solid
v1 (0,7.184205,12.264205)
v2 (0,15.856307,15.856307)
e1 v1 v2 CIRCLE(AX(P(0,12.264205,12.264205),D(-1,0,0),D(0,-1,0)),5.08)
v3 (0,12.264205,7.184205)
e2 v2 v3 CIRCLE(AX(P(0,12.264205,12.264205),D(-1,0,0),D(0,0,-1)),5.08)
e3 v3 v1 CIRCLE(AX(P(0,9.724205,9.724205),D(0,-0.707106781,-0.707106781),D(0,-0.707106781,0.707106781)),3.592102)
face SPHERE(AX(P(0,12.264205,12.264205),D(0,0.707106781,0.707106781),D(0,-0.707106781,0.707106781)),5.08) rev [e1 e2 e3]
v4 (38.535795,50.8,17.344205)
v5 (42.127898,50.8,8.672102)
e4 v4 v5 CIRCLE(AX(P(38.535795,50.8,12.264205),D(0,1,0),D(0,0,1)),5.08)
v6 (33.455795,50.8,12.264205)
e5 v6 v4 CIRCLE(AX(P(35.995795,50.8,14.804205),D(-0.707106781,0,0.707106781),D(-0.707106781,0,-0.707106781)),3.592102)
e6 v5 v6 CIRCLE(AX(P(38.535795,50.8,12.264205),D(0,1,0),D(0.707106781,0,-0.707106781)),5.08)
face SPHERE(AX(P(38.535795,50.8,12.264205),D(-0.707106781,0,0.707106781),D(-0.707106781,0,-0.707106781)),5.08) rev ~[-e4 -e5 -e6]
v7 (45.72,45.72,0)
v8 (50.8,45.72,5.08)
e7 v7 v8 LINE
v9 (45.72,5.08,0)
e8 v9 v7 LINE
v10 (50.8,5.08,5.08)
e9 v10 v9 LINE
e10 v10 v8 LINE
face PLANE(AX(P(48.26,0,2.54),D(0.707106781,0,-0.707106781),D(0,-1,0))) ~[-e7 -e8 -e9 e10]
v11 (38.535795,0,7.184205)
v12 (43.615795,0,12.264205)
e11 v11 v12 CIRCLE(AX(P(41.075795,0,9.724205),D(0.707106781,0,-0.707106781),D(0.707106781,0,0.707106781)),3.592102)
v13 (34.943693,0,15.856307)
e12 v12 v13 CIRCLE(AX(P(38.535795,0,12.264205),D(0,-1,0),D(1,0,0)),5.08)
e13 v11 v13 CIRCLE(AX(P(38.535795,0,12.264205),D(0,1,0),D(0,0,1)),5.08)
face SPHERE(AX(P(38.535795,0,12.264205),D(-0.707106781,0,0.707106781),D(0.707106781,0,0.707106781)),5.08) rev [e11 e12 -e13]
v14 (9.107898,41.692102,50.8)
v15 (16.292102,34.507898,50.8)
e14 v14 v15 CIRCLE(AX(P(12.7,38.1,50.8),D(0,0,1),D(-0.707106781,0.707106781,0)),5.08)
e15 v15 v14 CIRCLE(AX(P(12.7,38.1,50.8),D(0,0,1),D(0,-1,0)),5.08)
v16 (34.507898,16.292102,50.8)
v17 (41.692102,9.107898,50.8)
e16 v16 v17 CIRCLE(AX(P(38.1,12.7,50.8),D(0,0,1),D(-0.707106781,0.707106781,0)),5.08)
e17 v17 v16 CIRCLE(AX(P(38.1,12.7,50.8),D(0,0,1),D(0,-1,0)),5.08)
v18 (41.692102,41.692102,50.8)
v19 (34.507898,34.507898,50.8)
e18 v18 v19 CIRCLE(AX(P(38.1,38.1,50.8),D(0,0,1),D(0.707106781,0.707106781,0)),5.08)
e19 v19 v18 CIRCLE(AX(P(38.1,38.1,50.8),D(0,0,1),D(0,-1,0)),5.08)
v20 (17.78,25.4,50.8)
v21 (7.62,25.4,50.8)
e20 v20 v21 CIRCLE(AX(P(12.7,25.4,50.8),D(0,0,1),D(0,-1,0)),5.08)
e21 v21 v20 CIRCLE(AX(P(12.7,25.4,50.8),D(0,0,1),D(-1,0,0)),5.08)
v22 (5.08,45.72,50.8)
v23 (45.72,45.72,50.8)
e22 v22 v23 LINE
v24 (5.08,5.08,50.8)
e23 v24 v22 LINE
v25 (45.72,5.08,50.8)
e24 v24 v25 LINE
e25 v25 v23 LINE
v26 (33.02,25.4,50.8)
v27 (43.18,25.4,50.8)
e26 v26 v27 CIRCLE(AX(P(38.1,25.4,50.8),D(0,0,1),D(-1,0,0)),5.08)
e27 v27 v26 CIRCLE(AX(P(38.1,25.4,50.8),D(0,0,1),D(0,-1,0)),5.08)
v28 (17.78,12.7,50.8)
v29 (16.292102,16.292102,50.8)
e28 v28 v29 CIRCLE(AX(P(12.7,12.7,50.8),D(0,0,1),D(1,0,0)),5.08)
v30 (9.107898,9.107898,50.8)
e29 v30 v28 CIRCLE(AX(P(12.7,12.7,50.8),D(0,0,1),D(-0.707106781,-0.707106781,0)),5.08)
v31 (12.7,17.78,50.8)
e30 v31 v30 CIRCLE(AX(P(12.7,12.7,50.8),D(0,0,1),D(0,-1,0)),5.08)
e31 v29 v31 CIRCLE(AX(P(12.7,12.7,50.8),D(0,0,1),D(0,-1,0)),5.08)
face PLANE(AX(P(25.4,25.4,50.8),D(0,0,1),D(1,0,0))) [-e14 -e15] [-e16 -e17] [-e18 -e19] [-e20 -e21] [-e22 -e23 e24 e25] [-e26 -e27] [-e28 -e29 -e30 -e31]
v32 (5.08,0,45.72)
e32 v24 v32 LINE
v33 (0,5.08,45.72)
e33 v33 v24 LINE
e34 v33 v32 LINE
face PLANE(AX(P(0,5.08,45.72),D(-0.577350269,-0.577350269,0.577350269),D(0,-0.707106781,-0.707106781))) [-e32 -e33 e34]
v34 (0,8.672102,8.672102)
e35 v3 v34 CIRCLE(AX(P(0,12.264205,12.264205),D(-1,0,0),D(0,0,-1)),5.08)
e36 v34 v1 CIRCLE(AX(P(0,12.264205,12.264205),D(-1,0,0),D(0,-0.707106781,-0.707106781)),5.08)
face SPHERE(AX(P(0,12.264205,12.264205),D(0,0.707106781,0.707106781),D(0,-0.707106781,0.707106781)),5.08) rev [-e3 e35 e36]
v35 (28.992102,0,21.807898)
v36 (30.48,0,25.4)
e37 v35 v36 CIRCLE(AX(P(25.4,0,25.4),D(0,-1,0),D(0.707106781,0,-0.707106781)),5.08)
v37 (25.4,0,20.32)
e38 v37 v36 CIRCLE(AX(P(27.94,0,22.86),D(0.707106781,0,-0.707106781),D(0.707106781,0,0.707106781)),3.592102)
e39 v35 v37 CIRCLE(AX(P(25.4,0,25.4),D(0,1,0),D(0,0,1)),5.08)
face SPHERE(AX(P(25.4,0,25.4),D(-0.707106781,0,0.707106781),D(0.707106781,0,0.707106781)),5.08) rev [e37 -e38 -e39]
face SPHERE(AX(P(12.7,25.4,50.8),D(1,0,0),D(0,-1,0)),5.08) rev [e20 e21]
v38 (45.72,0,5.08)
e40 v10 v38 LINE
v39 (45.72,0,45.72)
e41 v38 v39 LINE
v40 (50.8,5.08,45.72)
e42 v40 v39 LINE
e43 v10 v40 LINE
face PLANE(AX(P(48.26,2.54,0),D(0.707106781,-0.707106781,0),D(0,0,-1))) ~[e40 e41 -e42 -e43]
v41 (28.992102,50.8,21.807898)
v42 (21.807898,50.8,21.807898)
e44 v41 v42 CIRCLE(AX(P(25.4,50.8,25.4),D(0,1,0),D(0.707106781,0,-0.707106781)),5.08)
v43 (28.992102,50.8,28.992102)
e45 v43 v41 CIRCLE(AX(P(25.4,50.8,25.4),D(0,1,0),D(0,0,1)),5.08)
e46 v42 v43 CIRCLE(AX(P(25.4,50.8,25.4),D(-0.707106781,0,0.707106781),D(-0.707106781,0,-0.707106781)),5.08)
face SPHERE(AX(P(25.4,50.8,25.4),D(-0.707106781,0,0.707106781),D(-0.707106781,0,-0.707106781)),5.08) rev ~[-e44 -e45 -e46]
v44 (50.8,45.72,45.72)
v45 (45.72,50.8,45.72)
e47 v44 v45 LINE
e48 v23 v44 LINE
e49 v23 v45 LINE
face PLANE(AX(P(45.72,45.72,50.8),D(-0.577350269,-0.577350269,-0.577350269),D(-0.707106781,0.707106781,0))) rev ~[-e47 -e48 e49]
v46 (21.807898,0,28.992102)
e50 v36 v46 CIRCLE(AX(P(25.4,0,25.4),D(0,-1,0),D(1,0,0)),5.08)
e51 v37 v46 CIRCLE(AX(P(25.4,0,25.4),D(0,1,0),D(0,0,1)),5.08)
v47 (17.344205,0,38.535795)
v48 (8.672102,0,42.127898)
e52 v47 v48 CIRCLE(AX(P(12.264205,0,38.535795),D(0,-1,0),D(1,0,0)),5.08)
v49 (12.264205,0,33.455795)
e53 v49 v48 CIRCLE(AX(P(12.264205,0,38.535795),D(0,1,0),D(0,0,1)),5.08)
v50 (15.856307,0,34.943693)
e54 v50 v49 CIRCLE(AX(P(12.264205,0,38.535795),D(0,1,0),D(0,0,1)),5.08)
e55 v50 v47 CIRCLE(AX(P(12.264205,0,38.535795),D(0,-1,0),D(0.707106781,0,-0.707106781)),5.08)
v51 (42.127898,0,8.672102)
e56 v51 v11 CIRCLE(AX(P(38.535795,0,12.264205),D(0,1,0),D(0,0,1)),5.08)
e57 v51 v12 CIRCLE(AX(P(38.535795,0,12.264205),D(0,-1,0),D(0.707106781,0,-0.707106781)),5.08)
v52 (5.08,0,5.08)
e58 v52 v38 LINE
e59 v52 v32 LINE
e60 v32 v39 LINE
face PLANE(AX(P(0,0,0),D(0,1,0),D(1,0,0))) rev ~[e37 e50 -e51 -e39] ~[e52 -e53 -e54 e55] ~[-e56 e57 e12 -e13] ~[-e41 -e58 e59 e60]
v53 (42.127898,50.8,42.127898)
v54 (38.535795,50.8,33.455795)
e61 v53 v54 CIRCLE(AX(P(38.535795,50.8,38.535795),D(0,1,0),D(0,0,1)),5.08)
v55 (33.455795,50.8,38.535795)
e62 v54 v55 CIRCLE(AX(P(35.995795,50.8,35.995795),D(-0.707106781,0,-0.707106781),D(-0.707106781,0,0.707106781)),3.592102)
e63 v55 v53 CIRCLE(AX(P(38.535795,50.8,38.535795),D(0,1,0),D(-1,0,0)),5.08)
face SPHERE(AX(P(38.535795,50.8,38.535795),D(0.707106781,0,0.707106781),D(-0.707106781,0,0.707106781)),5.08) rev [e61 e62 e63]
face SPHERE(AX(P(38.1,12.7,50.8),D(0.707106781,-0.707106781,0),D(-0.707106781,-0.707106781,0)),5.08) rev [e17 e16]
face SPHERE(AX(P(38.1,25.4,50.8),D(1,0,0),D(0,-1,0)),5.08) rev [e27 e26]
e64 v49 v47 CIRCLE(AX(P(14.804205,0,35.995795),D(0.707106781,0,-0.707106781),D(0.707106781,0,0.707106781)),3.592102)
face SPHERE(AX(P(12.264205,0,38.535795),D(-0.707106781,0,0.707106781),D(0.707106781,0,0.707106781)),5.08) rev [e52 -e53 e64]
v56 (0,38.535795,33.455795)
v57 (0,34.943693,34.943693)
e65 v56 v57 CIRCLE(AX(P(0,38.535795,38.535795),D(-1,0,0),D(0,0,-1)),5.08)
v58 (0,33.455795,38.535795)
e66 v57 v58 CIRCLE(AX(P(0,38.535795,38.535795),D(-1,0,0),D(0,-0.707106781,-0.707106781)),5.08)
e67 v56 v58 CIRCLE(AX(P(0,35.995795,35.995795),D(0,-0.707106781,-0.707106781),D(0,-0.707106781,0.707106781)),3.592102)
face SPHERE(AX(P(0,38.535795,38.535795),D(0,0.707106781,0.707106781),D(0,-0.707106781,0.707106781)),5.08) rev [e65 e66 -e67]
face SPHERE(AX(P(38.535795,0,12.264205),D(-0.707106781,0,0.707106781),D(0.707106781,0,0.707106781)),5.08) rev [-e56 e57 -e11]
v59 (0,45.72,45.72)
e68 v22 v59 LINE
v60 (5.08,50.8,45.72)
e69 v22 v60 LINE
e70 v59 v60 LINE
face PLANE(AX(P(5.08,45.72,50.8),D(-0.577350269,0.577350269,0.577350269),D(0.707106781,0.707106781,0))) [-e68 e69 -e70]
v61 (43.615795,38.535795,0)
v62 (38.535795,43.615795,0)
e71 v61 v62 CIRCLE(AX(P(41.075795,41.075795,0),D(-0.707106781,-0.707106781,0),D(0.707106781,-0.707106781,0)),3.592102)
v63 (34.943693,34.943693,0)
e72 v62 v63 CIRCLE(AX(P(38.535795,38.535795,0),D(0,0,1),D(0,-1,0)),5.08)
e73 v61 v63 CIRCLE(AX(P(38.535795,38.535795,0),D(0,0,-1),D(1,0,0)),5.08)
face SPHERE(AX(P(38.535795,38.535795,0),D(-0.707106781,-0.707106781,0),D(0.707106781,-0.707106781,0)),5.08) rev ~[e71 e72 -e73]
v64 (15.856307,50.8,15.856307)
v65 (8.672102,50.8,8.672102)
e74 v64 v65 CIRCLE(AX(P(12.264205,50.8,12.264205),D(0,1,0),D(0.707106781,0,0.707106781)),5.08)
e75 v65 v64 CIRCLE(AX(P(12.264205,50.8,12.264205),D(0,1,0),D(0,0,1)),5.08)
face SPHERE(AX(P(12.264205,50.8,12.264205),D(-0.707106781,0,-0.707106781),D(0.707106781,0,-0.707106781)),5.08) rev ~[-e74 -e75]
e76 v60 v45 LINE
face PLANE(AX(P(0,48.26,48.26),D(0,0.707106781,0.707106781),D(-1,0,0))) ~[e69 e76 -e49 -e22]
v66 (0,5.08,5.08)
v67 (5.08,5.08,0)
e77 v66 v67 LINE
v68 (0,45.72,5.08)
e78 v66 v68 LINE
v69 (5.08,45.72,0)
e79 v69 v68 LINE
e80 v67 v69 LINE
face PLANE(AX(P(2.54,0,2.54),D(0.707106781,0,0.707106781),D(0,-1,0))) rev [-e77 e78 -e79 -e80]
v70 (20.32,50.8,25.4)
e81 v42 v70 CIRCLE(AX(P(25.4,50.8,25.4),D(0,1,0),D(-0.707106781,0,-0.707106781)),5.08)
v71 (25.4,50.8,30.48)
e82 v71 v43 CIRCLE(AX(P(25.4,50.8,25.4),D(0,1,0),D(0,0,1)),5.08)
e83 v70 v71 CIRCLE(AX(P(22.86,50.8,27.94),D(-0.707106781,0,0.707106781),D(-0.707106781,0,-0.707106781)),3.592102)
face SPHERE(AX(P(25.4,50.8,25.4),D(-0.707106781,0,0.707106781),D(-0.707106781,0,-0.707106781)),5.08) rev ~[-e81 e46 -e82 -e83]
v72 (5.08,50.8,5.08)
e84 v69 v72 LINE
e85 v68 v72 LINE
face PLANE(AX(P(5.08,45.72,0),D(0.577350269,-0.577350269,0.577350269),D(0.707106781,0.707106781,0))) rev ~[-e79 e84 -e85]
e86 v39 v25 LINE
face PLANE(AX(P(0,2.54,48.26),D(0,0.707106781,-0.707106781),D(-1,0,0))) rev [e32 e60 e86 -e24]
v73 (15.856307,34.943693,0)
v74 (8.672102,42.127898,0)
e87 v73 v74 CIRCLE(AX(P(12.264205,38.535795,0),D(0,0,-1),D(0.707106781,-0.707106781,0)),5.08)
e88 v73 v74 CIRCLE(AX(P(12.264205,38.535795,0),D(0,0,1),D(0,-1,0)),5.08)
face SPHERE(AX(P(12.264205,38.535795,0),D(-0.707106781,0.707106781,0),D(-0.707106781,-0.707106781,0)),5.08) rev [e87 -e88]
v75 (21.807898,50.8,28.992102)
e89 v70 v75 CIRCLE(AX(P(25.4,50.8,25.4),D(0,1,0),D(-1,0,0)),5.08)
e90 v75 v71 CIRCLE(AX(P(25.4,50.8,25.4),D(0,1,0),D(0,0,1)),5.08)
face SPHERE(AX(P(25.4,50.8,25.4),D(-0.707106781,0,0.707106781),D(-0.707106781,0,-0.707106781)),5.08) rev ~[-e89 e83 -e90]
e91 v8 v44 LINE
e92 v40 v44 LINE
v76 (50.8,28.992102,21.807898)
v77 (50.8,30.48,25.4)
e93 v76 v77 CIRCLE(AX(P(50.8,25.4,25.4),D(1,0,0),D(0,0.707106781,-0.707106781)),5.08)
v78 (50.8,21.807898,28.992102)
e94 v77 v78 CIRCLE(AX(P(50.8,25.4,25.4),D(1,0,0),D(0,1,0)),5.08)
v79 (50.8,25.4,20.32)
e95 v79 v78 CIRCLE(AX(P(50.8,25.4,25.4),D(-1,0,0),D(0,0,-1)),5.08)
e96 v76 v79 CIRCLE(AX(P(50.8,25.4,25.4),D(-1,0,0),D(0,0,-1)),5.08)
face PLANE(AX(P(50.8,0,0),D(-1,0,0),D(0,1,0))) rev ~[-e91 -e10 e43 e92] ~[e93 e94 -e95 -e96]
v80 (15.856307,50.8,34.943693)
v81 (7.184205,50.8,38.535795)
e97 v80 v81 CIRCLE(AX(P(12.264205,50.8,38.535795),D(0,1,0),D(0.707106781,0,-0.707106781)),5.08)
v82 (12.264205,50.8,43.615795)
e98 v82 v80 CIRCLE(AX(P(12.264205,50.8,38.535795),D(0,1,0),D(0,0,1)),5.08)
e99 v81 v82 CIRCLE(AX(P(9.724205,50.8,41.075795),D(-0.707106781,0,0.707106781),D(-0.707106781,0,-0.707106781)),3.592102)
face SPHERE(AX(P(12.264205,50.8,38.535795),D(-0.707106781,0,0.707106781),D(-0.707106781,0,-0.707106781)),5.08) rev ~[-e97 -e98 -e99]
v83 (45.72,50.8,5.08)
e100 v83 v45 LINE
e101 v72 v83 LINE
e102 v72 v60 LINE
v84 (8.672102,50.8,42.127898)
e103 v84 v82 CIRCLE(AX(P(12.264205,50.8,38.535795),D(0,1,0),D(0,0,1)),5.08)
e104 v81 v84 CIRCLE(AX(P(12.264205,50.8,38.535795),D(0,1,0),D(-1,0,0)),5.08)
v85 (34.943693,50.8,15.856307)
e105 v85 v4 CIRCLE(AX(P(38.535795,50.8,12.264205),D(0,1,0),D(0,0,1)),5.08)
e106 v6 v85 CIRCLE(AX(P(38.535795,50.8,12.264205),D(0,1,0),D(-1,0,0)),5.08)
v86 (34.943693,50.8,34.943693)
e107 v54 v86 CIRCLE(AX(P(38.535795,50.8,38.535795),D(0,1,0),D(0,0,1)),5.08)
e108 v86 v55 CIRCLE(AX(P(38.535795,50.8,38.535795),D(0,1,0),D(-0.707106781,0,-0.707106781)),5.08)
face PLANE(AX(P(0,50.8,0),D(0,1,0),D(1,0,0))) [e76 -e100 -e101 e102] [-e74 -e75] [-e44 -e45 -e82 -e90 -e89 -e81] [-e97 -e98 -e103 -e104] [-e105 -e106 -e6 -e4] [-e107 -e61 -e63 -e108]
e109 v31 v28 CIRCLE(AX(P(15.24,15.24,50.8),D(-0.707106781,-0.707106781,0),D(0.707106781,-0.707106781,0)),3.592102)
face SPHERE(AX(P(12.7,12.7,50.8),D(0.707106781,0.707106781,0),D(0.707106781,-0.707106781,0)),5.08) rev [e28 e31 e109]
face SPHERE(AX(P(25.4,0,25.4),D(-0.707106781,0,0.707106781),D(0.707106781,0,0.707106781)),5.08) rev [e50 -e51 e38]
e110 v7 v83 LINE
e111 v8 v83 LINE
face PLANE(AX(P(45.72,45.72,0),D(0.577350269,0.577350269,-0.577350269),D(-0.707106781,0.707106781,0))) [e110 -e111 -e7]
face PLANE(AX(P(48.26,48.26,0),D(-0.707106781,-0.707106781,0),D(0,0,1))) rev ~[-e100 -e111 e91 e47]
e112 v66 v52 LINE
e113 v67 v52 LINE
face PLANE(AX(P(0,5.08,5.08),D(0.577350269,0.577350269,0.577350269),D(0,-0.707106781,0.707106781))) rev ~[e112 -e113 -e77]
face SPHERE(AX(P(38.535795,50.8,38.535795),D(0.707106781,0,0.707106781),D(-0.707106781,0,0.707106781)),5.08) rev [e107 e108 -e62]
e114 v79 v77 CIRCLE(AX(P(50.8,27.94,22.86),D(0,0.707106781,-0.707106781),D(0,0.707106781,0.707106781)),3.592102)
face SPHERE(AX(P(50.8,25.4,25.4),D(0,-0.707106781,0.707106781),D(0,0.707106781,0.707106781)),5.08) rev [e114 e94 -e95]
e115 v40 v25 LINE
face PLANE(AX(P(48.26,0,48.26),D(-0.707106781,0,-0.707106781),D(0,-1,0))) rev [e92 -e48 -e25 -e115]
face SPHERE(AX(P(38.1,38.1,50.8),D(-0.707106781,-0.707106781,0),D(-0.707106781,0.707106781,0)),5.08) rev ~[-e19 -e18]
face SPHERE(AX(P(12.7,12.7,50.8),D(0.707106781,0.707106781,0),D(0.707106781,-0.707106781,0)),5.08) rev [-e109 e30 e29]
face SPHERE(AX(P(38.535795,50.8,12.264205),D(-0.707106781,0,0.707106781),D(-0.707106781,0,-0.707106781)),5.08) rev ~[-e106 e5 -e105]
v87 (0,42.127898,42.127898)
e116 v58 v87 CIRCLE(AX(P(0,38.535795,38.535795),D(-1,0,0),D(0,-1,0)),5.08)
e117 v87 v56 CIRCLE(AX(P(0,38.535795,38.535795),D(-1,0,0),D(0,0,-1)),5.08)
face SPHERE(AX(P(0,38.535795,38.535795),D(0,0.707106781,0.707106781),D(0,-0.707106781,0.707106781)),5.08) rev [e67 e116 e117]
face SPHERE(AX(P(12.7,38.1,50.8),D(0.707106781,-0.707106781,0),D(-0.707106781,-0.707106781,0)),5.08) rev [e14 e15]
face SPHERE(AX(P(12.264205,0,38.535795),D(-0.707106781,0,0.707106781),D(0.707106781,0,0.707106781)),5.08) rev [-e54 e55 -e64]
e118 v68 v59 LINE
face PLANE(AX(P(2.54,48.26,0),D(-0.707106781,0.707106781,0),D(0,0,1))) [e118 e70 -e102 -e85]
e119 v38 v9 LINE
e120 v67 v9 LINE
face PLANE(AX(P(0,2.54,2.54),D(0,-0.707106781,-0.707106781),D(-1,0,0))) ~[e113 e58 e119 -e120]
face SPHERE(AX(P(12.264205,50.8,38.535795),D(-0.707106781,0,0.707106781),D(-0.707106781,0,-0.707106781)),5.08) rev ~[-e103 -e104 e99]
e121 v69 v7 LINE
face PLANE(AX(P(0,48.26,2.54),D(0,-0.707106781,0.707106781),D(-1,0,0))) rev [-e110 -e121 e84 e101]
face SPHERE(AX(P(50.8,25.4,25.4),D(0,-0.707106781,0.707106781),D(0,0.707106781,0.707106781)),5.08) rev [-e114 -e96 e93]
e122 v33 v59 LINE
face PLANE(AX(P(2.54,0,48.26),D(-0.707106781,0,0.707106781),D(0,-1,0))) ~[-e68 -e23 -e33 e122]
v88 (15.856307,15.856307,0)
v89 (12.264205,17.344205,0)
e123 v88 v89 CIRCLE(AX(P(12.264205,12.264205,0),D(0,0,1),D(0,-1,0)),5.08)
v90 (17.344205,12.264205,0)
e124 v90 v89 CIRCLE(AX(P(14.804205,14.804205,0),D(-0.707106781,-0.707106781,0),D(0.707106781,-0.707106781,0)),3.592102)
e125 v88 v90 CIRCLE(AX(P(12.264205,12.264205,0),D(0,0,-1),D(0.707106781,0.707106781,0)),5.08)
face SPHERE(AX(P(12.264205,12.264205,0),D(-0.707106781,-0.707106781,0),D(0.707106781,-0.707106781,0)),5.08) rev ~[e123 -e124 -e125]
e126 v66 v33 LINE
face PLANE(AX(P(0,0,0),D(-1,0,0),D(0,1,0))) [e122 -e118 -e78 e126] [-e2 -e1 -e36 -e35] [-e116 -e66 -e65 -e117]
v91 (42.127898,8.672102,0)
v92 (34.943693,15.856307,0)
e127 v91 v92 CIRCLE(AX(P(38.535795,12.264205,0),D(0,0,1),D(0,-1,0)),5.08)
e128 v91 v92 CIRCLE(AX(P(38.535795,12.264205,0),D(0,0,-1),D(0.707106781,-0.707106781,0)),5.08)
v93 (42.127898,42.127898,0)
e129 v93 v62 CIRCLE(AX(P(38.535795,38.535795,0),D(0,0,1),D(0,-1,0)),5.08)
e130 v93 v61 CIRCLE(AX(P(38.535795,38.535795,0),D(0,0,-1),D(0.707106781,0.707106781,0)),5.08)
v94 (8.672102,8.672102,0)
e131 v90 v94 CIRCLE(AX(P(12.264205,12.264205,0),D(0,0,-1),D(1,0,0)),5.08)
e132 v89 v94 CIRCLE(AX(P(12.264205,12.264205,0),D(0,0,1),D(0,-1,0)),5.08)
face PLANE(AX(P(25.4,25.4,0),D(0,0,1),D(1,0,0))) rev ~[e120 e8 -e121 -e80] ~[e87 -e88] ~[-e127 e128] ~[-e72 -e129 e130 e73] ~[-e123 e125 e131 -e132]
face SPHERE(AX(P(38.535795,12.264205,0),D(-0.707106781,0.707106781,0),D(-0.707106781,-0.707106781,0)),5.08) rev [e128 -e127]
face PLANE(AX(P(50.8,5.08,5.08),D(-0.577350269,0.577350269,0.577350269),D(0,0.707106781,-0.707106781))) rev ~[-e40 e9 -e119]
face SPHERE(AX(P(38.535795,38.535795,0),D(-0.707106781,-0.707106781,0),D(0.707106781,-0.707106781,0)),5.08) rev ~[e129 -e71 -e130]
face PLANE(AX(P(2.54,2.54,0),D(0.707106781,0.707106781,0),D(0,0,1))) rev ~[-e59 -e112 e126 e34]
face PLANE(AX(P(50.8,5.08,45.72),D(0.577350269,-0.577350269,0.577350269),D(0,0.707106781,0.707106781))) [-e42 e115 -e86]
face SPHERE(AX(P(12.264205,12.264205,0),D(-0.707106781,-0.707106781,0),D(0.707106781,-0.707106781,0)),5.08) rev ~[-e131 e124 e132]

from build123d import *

# Parameters (mm, degrees)
F0_W     = 50.8
F0_H     = 50.8
F1_DEPTH = 50.8
F2_SIZE  = 5.08


with BuildPart() as f1:
    # F0 (on Top) → F1 (new body)
    with BuildSketch(Plane.XY):
        with Locations((25.4, 25.4)):
            Rectangle(F0_W, F0_H)
    extrude(amount=F1_DEPTH)

    # F2
    f2_edges = [f1.edges().sort_by_distance(p)[0] for p in [
        (25.4, 0, 50.8),
        (25.4, 0, 0),
        (50.8, 0, 25.4),
        (0, 50.8, 25.4),
        (0, 25.4, 50.8),
        (0, 25.4, 0),
        (0, 0, 25.4),
        (50.8, 50.8, 25.4),
        (50.8, 25.4, 50.8),
        (50.8, 25.4, 0),
        (25.4, 50.8, 50.8),
        (25.4, 50.8, 0),
    ]]
    chamfer(f2_edges, length=F2_SIZE)

    # F3 (on face) → F4 (revolve, cut)
    with BuildSketch(Plane.YZ.offset(50.8)):
        with BuildLine():
            ThreePointArc((30.48, 25.4), (27.3440318364, 30.0933080252), (21.8078975516, 28.9921024484))
            Line((21.8078975516, 28.9921024484), (28.9921024484, 21.8078975516))
            ThreePointArc((28.9921024484, 21.8078975516), (30.0933080252, 23.4559681636), (30.48, 25.4))
        make_face()
    revolve(axis=Axis((50.8, 25.4, 25.4), (0, 0.7071067812, -0.7071067812)), mode=Mode.SUBTRACT)

    # F5 (on face) → F6 (revolve, cut)
    with BuildSketch(Plane(origin=(0, 0, 0), x_dir=(0, -1, 0), z_dir=(-1, 0, 0))):
        with BuildLine():
            ThreePointArc((-33.4557951031, 38.5357951031), (-36.5917632667, 43.2291031283), (-42.1278975516, 42.1278975516))
            Line((-42.1278975516, 42.1278975516), (-34.9436926547, 34.9436926547))
            ThreePointArc((-34.9436926547, 34.9436926547), (-33.842487078, 36.5917632667), (-33.4557951031, 38.5357951031))
        make_face()
        with BuildLine():
            ThreePointArc((-7.1842048969, 12.2642048969), (-10.3201730604, 16.957512922), (-15.8563073453, 15.8563073453))
            Line((-15.8563073453, 15.8563073453), (-8.6721024484, 8.6721024484))
            ThreePointArc((-8.6721024484, 8.6721024484), (-7.5708968717, 10.3201730604), (-7.1842048969, 12.2642048969))
        make_face()
    revolve(axis=Axis((0, 25.4, 25.4), (0, -0.7071067812, -0.7071067812)), mode=Mode.SUBTRACT)

    # F7 (on face) → F8 (revolve, cut)
    with BuildSketch(Plane(origin=(0, 0, 0), x_dir=(1, 0, 0), z_dir=(0, 0, -1))):
        with BuildLine():
            ThreePointArc((17.3442048969, -12.2642048969), (14.2082367333, -7.5708968717), (8.6721024484, -8.6721024484))
            Line((8.6721024484, -8.6721024484), (15.8563073453, -15.8563073453))
            ThreePointArc((15.8563073453, -15.8563073453), (16.957512922, -14.2082367333), (17.3442048969, -12.2642048969))
        make_face()
        with BuildLine():
            Line((34.9436926547, -34.9436926547), (42.1278975516, -42.1278975516))
            ThreePointArc((42.1278975516, -42.1278975516), (43.2291031283, -40.4798269396), (43.6157951031, -38.5357951031))
            ThreePointArc((43.6157951031, -38.5357951031), (40.4798269396, -33.842487078), (34.9436926547, -34.9436926547))
        make_face()
    revolve(axis=Axis((25.4, 25.4, 0), (-0.7071067812, -0.7071067812, 0)), mode=Mode.SUBTRACT)

    # F7 (on face) → F9 (revolve, cut)
    with BuildSketch(Plane(origin=(0, 0, 0), x_dir=(1, 0, 0), z_dir=(0, 0, -1))):
        with BuildLine():
            ThreePointArc((15.8563073453, -34.9436926547), (8.6721024484, -34.9436926547), (8.6721024484, -42.1278975516))
            Line((8.6721024484, -42.1278975516), (15.8563073453, -34.9436926547))
        make_face()
        with BuildLine():
            Line((34.9436926547, -15.8563073453), (42.1278975516, -8.6721024484))
            ThreePointArc((42.1278975516, -8.6721024484), (34.9436926547, -8.6721024484), (34.9436926547, -15.8563073453))
        make_face()
    revolve(axis=Axis((25.4, 25.4, 0), (0.7071067812, -0.7071067812, 0)), mode=Mode.SUBTRACT)

    # F10 (on face) → F11 (revolve, cut)
    with BuildSketch(Plane(origin=(0, 50.8, 0), x_dir=(-1, 0, 0), z_dir=(0, 1, 0))):
        with BuildLine():
            ThreePointArc((-33.4557951031, 38.5357951031), (-36.5917632667, 43.2291031283), (-42.1278975516, 42.1278975516))
            Line((-42.1278975516, 42.1278975516), (-34.9436926547, 34.9436926547))
            ThreePointArc((-34.9436926547, 34.9436926547), (-33.842487078, 36.5917632667), (-33.4557951031, 38.5357951031))
        make_face()
        with BuildLine():
            ThreePointArc((-15.8563073453, 15.8563073453), (-15.8563073453, 8.6721024484), (-8.6721024484, 8.6721024484))
            Line((-8.6721024484, 8.6721024484), (-15.8563073453, 15.8563073453))
        make_face()
    revolve(axis=Axis((25.4, 50.8, 25.4), (-0.7071067812, 0, -0.7071067812)), mode=Mode.SUBTRACT)

    # F10 (on face) → F12 (revolve, cut)
    with BuildSketch(Plane(origin=(0, 50.8, 0), x_dir=(-1, 0, 0), z_dir=(0, 1, 0))):
        with BuildLine():
            Line((-34.9436926547, 15.8563073453), (-42.1278975516, 8.6721024484))
            ThreePointArc((-42.1278975516, 8.6721024484), (-36.5917632667, 7.5708968717), (-33.4557951031, 12.2642048969))
            ThreePointArc((-33.4557951031, 12.2642048969), (-33.842487078, 14.2082367333), (-34.9436926547, 15.8563073453))
        make_face()
        with BuildLine():
            Line((-21.8078975516, 21.8078975516), (-25.4, 25.4))
            Line((-25.4, 25.4), (-28.9921024484, 21.8078975516))
            ThreePointArc((-28.9921024484, 21.8078975516), (-25.4, 20.32), (-21.8078975516, 21.8078975516))
        make_face()
        with BuildLine():
            Line((-21.8078975516, 28.9921024484), (-25.4, 25.4))
            Line((-25.4, 25.4), (-21.8078975516, 21.8078975516))
            ThreePointArc((-21.8078975516, 21.8078975516), (-20.7066919748, 23.4559681636), (-20.32, 25.4))
            ThreePointArc((-20.32, 25.4), (-20.7066919748, 27.3440318364), (-21.8078975516, 28.9921024484))
        make_face()
        with BuildLine():
            ThreePointArc((-7.1842048969, 38.5357951031), (-7.5708968717, 40.4798269396), (-8.6721024484, 42.1278975516))
            Line((-8.6721024484, 42.1278975516), (-15.8563073453, 34.9436926547))
            ThreePointArc((-15.8563073453, 34.9436926547), (-10.3201730604, 33.842487078), (-7.1842048969, 38.5357951031))
        make_face()
    revolve(axis=Axis((25.4, 50.8, 25.4), (-0.7071067812, 0, 0.7071067812)), mode=Mode.SUBTRACT)

    # F13 (on face) → F14 (revolve, cut)
    with BuildSketch(Plane.XZ):
        with BuildLine():
            ThreePointArc((17.3442048969, 38.5357951031), (14.2082367333, 43.2291031283), (8.6721024484, 42.1278975516))
            Line((8.6721024484, 42.1278975516), (15.8563073453, 34.9436926547))
            ThreePointArc((15.8563073453, 34.9436926547), (16.957512922, 36.5917632667), (17.3442048969, 38.5357951031))
        make_face()
        with BuildLine():
            ThreePointArc((30.48, 25.4), (27.3440318364, 30.0933080252), (21.8078975516, 28.9921024484))
            Line((21.8078975516, 28.9921024484), (28.9921024484, 21.8078975516))
            ThreePointArc((28.9921024484, 21.8078975516), (30.0933080252, 23.4559681636), (30.48, 25.4))
        make_face()
        with BuildLine():
            Line((34.9436926547, 15.8563073453), (42.1278975516, 8.6721024484))
            ThreePointArc((42.1278975516, 8.6721024484), (43.2291031283, 10.3201730604), (43.6157951031, 12.2642048969))
            ThreePointArc((43.6157951031, 12.2642048969), (40.4798269396, 16.957512922), (34.9436926547, 15.8563073453))
        make_face()
    revolve(axis=Axis((25.4, 0, 25.4), (0.7071067812, 0, -0.7071067812)), mode=Mode.SUBTRACT)

    # F15 (on face) → F16 (revolve, cut)
    with BuildSketch(Plane.XY.offset(50.8)):
        with BuildLine():
            ThreePointArc((9.1078975516, 41.6921024484), (9.1078975516, 34.5078975516), (16.2921024484, 34.5078975516))
            Line((16.2921024484, 34.5078975516), (9.1078975516, 41.6921024484))
        make_face()
        with BuildLine():
            ThreePointArc((34.5078975516, 16.2921024484), (34.5078975516, 9.1078975516), (41.6921024484, 9.1078975516))
            Line((41.6921024484, 9.1078975516), (34.5078975516, 16.2921024484))
        make_face()
    revolve(axis=Axis((25.4, 25.4, 50.8), (-0.7071067812, 0.7071067812, 0)), mode=Mode.SUBTRACT)

    # F15 (on face) → F17 (revolve, cut)
    with BuildSketch(Plane.XY.offset(50.8)):
        with BuildLine():
            Line((17.78, 25.4), (7.62, 25.4))
            ThreePointArc((7.62, 25.4), (12.7, 20.32), (17.78, 25.4))
        make_face()
        with BuildLine():
            ThreePointArc((33.02, 25.4), (38.1, 20.32), (43.18, 25.4))
            Line((43.18, 25.4), (33.02, 25.4))
        make_face()
    revolve(axis=Axis((25.4, 25.4, 50.8), (-1, 0, 0)), mode=Mode.SUBTRACT)

    # F15 (on face) → F18 (revolve, cut)
    with BuildSketch(Plane.XY.offset(50.8)):
        with BuildLine():
            Line((16.2921024484, 16.2921024484), (9.1078975516, 9.1078975516))
            ThreePointArc((9.1078975516, 9.1078975516), (14.6440318364, 8.0066919748), (17.78, 12.7))
            ThreePointArc((17.78, 12.7), (17.3933080252, 14.6440318364), (16.2921024484, 16.2921024484))
        make_face()
        with BuildLine():
            Line((34.5078975516, 34.5078975516), (41.6921024484, 41.6921024484))
            ThreePointArc((41.6921024484, 41.6921024484), (34.5078975516, 41.6921024484), (34.5078975516, 34.5078975516))
        make_face()
    revolve(axis=Axis((25.4, 25.4, 50.8), (-0.7071067812, -0.7071067812, 0)), mode=Mode.SUBTRACT)


solid = f1.part
